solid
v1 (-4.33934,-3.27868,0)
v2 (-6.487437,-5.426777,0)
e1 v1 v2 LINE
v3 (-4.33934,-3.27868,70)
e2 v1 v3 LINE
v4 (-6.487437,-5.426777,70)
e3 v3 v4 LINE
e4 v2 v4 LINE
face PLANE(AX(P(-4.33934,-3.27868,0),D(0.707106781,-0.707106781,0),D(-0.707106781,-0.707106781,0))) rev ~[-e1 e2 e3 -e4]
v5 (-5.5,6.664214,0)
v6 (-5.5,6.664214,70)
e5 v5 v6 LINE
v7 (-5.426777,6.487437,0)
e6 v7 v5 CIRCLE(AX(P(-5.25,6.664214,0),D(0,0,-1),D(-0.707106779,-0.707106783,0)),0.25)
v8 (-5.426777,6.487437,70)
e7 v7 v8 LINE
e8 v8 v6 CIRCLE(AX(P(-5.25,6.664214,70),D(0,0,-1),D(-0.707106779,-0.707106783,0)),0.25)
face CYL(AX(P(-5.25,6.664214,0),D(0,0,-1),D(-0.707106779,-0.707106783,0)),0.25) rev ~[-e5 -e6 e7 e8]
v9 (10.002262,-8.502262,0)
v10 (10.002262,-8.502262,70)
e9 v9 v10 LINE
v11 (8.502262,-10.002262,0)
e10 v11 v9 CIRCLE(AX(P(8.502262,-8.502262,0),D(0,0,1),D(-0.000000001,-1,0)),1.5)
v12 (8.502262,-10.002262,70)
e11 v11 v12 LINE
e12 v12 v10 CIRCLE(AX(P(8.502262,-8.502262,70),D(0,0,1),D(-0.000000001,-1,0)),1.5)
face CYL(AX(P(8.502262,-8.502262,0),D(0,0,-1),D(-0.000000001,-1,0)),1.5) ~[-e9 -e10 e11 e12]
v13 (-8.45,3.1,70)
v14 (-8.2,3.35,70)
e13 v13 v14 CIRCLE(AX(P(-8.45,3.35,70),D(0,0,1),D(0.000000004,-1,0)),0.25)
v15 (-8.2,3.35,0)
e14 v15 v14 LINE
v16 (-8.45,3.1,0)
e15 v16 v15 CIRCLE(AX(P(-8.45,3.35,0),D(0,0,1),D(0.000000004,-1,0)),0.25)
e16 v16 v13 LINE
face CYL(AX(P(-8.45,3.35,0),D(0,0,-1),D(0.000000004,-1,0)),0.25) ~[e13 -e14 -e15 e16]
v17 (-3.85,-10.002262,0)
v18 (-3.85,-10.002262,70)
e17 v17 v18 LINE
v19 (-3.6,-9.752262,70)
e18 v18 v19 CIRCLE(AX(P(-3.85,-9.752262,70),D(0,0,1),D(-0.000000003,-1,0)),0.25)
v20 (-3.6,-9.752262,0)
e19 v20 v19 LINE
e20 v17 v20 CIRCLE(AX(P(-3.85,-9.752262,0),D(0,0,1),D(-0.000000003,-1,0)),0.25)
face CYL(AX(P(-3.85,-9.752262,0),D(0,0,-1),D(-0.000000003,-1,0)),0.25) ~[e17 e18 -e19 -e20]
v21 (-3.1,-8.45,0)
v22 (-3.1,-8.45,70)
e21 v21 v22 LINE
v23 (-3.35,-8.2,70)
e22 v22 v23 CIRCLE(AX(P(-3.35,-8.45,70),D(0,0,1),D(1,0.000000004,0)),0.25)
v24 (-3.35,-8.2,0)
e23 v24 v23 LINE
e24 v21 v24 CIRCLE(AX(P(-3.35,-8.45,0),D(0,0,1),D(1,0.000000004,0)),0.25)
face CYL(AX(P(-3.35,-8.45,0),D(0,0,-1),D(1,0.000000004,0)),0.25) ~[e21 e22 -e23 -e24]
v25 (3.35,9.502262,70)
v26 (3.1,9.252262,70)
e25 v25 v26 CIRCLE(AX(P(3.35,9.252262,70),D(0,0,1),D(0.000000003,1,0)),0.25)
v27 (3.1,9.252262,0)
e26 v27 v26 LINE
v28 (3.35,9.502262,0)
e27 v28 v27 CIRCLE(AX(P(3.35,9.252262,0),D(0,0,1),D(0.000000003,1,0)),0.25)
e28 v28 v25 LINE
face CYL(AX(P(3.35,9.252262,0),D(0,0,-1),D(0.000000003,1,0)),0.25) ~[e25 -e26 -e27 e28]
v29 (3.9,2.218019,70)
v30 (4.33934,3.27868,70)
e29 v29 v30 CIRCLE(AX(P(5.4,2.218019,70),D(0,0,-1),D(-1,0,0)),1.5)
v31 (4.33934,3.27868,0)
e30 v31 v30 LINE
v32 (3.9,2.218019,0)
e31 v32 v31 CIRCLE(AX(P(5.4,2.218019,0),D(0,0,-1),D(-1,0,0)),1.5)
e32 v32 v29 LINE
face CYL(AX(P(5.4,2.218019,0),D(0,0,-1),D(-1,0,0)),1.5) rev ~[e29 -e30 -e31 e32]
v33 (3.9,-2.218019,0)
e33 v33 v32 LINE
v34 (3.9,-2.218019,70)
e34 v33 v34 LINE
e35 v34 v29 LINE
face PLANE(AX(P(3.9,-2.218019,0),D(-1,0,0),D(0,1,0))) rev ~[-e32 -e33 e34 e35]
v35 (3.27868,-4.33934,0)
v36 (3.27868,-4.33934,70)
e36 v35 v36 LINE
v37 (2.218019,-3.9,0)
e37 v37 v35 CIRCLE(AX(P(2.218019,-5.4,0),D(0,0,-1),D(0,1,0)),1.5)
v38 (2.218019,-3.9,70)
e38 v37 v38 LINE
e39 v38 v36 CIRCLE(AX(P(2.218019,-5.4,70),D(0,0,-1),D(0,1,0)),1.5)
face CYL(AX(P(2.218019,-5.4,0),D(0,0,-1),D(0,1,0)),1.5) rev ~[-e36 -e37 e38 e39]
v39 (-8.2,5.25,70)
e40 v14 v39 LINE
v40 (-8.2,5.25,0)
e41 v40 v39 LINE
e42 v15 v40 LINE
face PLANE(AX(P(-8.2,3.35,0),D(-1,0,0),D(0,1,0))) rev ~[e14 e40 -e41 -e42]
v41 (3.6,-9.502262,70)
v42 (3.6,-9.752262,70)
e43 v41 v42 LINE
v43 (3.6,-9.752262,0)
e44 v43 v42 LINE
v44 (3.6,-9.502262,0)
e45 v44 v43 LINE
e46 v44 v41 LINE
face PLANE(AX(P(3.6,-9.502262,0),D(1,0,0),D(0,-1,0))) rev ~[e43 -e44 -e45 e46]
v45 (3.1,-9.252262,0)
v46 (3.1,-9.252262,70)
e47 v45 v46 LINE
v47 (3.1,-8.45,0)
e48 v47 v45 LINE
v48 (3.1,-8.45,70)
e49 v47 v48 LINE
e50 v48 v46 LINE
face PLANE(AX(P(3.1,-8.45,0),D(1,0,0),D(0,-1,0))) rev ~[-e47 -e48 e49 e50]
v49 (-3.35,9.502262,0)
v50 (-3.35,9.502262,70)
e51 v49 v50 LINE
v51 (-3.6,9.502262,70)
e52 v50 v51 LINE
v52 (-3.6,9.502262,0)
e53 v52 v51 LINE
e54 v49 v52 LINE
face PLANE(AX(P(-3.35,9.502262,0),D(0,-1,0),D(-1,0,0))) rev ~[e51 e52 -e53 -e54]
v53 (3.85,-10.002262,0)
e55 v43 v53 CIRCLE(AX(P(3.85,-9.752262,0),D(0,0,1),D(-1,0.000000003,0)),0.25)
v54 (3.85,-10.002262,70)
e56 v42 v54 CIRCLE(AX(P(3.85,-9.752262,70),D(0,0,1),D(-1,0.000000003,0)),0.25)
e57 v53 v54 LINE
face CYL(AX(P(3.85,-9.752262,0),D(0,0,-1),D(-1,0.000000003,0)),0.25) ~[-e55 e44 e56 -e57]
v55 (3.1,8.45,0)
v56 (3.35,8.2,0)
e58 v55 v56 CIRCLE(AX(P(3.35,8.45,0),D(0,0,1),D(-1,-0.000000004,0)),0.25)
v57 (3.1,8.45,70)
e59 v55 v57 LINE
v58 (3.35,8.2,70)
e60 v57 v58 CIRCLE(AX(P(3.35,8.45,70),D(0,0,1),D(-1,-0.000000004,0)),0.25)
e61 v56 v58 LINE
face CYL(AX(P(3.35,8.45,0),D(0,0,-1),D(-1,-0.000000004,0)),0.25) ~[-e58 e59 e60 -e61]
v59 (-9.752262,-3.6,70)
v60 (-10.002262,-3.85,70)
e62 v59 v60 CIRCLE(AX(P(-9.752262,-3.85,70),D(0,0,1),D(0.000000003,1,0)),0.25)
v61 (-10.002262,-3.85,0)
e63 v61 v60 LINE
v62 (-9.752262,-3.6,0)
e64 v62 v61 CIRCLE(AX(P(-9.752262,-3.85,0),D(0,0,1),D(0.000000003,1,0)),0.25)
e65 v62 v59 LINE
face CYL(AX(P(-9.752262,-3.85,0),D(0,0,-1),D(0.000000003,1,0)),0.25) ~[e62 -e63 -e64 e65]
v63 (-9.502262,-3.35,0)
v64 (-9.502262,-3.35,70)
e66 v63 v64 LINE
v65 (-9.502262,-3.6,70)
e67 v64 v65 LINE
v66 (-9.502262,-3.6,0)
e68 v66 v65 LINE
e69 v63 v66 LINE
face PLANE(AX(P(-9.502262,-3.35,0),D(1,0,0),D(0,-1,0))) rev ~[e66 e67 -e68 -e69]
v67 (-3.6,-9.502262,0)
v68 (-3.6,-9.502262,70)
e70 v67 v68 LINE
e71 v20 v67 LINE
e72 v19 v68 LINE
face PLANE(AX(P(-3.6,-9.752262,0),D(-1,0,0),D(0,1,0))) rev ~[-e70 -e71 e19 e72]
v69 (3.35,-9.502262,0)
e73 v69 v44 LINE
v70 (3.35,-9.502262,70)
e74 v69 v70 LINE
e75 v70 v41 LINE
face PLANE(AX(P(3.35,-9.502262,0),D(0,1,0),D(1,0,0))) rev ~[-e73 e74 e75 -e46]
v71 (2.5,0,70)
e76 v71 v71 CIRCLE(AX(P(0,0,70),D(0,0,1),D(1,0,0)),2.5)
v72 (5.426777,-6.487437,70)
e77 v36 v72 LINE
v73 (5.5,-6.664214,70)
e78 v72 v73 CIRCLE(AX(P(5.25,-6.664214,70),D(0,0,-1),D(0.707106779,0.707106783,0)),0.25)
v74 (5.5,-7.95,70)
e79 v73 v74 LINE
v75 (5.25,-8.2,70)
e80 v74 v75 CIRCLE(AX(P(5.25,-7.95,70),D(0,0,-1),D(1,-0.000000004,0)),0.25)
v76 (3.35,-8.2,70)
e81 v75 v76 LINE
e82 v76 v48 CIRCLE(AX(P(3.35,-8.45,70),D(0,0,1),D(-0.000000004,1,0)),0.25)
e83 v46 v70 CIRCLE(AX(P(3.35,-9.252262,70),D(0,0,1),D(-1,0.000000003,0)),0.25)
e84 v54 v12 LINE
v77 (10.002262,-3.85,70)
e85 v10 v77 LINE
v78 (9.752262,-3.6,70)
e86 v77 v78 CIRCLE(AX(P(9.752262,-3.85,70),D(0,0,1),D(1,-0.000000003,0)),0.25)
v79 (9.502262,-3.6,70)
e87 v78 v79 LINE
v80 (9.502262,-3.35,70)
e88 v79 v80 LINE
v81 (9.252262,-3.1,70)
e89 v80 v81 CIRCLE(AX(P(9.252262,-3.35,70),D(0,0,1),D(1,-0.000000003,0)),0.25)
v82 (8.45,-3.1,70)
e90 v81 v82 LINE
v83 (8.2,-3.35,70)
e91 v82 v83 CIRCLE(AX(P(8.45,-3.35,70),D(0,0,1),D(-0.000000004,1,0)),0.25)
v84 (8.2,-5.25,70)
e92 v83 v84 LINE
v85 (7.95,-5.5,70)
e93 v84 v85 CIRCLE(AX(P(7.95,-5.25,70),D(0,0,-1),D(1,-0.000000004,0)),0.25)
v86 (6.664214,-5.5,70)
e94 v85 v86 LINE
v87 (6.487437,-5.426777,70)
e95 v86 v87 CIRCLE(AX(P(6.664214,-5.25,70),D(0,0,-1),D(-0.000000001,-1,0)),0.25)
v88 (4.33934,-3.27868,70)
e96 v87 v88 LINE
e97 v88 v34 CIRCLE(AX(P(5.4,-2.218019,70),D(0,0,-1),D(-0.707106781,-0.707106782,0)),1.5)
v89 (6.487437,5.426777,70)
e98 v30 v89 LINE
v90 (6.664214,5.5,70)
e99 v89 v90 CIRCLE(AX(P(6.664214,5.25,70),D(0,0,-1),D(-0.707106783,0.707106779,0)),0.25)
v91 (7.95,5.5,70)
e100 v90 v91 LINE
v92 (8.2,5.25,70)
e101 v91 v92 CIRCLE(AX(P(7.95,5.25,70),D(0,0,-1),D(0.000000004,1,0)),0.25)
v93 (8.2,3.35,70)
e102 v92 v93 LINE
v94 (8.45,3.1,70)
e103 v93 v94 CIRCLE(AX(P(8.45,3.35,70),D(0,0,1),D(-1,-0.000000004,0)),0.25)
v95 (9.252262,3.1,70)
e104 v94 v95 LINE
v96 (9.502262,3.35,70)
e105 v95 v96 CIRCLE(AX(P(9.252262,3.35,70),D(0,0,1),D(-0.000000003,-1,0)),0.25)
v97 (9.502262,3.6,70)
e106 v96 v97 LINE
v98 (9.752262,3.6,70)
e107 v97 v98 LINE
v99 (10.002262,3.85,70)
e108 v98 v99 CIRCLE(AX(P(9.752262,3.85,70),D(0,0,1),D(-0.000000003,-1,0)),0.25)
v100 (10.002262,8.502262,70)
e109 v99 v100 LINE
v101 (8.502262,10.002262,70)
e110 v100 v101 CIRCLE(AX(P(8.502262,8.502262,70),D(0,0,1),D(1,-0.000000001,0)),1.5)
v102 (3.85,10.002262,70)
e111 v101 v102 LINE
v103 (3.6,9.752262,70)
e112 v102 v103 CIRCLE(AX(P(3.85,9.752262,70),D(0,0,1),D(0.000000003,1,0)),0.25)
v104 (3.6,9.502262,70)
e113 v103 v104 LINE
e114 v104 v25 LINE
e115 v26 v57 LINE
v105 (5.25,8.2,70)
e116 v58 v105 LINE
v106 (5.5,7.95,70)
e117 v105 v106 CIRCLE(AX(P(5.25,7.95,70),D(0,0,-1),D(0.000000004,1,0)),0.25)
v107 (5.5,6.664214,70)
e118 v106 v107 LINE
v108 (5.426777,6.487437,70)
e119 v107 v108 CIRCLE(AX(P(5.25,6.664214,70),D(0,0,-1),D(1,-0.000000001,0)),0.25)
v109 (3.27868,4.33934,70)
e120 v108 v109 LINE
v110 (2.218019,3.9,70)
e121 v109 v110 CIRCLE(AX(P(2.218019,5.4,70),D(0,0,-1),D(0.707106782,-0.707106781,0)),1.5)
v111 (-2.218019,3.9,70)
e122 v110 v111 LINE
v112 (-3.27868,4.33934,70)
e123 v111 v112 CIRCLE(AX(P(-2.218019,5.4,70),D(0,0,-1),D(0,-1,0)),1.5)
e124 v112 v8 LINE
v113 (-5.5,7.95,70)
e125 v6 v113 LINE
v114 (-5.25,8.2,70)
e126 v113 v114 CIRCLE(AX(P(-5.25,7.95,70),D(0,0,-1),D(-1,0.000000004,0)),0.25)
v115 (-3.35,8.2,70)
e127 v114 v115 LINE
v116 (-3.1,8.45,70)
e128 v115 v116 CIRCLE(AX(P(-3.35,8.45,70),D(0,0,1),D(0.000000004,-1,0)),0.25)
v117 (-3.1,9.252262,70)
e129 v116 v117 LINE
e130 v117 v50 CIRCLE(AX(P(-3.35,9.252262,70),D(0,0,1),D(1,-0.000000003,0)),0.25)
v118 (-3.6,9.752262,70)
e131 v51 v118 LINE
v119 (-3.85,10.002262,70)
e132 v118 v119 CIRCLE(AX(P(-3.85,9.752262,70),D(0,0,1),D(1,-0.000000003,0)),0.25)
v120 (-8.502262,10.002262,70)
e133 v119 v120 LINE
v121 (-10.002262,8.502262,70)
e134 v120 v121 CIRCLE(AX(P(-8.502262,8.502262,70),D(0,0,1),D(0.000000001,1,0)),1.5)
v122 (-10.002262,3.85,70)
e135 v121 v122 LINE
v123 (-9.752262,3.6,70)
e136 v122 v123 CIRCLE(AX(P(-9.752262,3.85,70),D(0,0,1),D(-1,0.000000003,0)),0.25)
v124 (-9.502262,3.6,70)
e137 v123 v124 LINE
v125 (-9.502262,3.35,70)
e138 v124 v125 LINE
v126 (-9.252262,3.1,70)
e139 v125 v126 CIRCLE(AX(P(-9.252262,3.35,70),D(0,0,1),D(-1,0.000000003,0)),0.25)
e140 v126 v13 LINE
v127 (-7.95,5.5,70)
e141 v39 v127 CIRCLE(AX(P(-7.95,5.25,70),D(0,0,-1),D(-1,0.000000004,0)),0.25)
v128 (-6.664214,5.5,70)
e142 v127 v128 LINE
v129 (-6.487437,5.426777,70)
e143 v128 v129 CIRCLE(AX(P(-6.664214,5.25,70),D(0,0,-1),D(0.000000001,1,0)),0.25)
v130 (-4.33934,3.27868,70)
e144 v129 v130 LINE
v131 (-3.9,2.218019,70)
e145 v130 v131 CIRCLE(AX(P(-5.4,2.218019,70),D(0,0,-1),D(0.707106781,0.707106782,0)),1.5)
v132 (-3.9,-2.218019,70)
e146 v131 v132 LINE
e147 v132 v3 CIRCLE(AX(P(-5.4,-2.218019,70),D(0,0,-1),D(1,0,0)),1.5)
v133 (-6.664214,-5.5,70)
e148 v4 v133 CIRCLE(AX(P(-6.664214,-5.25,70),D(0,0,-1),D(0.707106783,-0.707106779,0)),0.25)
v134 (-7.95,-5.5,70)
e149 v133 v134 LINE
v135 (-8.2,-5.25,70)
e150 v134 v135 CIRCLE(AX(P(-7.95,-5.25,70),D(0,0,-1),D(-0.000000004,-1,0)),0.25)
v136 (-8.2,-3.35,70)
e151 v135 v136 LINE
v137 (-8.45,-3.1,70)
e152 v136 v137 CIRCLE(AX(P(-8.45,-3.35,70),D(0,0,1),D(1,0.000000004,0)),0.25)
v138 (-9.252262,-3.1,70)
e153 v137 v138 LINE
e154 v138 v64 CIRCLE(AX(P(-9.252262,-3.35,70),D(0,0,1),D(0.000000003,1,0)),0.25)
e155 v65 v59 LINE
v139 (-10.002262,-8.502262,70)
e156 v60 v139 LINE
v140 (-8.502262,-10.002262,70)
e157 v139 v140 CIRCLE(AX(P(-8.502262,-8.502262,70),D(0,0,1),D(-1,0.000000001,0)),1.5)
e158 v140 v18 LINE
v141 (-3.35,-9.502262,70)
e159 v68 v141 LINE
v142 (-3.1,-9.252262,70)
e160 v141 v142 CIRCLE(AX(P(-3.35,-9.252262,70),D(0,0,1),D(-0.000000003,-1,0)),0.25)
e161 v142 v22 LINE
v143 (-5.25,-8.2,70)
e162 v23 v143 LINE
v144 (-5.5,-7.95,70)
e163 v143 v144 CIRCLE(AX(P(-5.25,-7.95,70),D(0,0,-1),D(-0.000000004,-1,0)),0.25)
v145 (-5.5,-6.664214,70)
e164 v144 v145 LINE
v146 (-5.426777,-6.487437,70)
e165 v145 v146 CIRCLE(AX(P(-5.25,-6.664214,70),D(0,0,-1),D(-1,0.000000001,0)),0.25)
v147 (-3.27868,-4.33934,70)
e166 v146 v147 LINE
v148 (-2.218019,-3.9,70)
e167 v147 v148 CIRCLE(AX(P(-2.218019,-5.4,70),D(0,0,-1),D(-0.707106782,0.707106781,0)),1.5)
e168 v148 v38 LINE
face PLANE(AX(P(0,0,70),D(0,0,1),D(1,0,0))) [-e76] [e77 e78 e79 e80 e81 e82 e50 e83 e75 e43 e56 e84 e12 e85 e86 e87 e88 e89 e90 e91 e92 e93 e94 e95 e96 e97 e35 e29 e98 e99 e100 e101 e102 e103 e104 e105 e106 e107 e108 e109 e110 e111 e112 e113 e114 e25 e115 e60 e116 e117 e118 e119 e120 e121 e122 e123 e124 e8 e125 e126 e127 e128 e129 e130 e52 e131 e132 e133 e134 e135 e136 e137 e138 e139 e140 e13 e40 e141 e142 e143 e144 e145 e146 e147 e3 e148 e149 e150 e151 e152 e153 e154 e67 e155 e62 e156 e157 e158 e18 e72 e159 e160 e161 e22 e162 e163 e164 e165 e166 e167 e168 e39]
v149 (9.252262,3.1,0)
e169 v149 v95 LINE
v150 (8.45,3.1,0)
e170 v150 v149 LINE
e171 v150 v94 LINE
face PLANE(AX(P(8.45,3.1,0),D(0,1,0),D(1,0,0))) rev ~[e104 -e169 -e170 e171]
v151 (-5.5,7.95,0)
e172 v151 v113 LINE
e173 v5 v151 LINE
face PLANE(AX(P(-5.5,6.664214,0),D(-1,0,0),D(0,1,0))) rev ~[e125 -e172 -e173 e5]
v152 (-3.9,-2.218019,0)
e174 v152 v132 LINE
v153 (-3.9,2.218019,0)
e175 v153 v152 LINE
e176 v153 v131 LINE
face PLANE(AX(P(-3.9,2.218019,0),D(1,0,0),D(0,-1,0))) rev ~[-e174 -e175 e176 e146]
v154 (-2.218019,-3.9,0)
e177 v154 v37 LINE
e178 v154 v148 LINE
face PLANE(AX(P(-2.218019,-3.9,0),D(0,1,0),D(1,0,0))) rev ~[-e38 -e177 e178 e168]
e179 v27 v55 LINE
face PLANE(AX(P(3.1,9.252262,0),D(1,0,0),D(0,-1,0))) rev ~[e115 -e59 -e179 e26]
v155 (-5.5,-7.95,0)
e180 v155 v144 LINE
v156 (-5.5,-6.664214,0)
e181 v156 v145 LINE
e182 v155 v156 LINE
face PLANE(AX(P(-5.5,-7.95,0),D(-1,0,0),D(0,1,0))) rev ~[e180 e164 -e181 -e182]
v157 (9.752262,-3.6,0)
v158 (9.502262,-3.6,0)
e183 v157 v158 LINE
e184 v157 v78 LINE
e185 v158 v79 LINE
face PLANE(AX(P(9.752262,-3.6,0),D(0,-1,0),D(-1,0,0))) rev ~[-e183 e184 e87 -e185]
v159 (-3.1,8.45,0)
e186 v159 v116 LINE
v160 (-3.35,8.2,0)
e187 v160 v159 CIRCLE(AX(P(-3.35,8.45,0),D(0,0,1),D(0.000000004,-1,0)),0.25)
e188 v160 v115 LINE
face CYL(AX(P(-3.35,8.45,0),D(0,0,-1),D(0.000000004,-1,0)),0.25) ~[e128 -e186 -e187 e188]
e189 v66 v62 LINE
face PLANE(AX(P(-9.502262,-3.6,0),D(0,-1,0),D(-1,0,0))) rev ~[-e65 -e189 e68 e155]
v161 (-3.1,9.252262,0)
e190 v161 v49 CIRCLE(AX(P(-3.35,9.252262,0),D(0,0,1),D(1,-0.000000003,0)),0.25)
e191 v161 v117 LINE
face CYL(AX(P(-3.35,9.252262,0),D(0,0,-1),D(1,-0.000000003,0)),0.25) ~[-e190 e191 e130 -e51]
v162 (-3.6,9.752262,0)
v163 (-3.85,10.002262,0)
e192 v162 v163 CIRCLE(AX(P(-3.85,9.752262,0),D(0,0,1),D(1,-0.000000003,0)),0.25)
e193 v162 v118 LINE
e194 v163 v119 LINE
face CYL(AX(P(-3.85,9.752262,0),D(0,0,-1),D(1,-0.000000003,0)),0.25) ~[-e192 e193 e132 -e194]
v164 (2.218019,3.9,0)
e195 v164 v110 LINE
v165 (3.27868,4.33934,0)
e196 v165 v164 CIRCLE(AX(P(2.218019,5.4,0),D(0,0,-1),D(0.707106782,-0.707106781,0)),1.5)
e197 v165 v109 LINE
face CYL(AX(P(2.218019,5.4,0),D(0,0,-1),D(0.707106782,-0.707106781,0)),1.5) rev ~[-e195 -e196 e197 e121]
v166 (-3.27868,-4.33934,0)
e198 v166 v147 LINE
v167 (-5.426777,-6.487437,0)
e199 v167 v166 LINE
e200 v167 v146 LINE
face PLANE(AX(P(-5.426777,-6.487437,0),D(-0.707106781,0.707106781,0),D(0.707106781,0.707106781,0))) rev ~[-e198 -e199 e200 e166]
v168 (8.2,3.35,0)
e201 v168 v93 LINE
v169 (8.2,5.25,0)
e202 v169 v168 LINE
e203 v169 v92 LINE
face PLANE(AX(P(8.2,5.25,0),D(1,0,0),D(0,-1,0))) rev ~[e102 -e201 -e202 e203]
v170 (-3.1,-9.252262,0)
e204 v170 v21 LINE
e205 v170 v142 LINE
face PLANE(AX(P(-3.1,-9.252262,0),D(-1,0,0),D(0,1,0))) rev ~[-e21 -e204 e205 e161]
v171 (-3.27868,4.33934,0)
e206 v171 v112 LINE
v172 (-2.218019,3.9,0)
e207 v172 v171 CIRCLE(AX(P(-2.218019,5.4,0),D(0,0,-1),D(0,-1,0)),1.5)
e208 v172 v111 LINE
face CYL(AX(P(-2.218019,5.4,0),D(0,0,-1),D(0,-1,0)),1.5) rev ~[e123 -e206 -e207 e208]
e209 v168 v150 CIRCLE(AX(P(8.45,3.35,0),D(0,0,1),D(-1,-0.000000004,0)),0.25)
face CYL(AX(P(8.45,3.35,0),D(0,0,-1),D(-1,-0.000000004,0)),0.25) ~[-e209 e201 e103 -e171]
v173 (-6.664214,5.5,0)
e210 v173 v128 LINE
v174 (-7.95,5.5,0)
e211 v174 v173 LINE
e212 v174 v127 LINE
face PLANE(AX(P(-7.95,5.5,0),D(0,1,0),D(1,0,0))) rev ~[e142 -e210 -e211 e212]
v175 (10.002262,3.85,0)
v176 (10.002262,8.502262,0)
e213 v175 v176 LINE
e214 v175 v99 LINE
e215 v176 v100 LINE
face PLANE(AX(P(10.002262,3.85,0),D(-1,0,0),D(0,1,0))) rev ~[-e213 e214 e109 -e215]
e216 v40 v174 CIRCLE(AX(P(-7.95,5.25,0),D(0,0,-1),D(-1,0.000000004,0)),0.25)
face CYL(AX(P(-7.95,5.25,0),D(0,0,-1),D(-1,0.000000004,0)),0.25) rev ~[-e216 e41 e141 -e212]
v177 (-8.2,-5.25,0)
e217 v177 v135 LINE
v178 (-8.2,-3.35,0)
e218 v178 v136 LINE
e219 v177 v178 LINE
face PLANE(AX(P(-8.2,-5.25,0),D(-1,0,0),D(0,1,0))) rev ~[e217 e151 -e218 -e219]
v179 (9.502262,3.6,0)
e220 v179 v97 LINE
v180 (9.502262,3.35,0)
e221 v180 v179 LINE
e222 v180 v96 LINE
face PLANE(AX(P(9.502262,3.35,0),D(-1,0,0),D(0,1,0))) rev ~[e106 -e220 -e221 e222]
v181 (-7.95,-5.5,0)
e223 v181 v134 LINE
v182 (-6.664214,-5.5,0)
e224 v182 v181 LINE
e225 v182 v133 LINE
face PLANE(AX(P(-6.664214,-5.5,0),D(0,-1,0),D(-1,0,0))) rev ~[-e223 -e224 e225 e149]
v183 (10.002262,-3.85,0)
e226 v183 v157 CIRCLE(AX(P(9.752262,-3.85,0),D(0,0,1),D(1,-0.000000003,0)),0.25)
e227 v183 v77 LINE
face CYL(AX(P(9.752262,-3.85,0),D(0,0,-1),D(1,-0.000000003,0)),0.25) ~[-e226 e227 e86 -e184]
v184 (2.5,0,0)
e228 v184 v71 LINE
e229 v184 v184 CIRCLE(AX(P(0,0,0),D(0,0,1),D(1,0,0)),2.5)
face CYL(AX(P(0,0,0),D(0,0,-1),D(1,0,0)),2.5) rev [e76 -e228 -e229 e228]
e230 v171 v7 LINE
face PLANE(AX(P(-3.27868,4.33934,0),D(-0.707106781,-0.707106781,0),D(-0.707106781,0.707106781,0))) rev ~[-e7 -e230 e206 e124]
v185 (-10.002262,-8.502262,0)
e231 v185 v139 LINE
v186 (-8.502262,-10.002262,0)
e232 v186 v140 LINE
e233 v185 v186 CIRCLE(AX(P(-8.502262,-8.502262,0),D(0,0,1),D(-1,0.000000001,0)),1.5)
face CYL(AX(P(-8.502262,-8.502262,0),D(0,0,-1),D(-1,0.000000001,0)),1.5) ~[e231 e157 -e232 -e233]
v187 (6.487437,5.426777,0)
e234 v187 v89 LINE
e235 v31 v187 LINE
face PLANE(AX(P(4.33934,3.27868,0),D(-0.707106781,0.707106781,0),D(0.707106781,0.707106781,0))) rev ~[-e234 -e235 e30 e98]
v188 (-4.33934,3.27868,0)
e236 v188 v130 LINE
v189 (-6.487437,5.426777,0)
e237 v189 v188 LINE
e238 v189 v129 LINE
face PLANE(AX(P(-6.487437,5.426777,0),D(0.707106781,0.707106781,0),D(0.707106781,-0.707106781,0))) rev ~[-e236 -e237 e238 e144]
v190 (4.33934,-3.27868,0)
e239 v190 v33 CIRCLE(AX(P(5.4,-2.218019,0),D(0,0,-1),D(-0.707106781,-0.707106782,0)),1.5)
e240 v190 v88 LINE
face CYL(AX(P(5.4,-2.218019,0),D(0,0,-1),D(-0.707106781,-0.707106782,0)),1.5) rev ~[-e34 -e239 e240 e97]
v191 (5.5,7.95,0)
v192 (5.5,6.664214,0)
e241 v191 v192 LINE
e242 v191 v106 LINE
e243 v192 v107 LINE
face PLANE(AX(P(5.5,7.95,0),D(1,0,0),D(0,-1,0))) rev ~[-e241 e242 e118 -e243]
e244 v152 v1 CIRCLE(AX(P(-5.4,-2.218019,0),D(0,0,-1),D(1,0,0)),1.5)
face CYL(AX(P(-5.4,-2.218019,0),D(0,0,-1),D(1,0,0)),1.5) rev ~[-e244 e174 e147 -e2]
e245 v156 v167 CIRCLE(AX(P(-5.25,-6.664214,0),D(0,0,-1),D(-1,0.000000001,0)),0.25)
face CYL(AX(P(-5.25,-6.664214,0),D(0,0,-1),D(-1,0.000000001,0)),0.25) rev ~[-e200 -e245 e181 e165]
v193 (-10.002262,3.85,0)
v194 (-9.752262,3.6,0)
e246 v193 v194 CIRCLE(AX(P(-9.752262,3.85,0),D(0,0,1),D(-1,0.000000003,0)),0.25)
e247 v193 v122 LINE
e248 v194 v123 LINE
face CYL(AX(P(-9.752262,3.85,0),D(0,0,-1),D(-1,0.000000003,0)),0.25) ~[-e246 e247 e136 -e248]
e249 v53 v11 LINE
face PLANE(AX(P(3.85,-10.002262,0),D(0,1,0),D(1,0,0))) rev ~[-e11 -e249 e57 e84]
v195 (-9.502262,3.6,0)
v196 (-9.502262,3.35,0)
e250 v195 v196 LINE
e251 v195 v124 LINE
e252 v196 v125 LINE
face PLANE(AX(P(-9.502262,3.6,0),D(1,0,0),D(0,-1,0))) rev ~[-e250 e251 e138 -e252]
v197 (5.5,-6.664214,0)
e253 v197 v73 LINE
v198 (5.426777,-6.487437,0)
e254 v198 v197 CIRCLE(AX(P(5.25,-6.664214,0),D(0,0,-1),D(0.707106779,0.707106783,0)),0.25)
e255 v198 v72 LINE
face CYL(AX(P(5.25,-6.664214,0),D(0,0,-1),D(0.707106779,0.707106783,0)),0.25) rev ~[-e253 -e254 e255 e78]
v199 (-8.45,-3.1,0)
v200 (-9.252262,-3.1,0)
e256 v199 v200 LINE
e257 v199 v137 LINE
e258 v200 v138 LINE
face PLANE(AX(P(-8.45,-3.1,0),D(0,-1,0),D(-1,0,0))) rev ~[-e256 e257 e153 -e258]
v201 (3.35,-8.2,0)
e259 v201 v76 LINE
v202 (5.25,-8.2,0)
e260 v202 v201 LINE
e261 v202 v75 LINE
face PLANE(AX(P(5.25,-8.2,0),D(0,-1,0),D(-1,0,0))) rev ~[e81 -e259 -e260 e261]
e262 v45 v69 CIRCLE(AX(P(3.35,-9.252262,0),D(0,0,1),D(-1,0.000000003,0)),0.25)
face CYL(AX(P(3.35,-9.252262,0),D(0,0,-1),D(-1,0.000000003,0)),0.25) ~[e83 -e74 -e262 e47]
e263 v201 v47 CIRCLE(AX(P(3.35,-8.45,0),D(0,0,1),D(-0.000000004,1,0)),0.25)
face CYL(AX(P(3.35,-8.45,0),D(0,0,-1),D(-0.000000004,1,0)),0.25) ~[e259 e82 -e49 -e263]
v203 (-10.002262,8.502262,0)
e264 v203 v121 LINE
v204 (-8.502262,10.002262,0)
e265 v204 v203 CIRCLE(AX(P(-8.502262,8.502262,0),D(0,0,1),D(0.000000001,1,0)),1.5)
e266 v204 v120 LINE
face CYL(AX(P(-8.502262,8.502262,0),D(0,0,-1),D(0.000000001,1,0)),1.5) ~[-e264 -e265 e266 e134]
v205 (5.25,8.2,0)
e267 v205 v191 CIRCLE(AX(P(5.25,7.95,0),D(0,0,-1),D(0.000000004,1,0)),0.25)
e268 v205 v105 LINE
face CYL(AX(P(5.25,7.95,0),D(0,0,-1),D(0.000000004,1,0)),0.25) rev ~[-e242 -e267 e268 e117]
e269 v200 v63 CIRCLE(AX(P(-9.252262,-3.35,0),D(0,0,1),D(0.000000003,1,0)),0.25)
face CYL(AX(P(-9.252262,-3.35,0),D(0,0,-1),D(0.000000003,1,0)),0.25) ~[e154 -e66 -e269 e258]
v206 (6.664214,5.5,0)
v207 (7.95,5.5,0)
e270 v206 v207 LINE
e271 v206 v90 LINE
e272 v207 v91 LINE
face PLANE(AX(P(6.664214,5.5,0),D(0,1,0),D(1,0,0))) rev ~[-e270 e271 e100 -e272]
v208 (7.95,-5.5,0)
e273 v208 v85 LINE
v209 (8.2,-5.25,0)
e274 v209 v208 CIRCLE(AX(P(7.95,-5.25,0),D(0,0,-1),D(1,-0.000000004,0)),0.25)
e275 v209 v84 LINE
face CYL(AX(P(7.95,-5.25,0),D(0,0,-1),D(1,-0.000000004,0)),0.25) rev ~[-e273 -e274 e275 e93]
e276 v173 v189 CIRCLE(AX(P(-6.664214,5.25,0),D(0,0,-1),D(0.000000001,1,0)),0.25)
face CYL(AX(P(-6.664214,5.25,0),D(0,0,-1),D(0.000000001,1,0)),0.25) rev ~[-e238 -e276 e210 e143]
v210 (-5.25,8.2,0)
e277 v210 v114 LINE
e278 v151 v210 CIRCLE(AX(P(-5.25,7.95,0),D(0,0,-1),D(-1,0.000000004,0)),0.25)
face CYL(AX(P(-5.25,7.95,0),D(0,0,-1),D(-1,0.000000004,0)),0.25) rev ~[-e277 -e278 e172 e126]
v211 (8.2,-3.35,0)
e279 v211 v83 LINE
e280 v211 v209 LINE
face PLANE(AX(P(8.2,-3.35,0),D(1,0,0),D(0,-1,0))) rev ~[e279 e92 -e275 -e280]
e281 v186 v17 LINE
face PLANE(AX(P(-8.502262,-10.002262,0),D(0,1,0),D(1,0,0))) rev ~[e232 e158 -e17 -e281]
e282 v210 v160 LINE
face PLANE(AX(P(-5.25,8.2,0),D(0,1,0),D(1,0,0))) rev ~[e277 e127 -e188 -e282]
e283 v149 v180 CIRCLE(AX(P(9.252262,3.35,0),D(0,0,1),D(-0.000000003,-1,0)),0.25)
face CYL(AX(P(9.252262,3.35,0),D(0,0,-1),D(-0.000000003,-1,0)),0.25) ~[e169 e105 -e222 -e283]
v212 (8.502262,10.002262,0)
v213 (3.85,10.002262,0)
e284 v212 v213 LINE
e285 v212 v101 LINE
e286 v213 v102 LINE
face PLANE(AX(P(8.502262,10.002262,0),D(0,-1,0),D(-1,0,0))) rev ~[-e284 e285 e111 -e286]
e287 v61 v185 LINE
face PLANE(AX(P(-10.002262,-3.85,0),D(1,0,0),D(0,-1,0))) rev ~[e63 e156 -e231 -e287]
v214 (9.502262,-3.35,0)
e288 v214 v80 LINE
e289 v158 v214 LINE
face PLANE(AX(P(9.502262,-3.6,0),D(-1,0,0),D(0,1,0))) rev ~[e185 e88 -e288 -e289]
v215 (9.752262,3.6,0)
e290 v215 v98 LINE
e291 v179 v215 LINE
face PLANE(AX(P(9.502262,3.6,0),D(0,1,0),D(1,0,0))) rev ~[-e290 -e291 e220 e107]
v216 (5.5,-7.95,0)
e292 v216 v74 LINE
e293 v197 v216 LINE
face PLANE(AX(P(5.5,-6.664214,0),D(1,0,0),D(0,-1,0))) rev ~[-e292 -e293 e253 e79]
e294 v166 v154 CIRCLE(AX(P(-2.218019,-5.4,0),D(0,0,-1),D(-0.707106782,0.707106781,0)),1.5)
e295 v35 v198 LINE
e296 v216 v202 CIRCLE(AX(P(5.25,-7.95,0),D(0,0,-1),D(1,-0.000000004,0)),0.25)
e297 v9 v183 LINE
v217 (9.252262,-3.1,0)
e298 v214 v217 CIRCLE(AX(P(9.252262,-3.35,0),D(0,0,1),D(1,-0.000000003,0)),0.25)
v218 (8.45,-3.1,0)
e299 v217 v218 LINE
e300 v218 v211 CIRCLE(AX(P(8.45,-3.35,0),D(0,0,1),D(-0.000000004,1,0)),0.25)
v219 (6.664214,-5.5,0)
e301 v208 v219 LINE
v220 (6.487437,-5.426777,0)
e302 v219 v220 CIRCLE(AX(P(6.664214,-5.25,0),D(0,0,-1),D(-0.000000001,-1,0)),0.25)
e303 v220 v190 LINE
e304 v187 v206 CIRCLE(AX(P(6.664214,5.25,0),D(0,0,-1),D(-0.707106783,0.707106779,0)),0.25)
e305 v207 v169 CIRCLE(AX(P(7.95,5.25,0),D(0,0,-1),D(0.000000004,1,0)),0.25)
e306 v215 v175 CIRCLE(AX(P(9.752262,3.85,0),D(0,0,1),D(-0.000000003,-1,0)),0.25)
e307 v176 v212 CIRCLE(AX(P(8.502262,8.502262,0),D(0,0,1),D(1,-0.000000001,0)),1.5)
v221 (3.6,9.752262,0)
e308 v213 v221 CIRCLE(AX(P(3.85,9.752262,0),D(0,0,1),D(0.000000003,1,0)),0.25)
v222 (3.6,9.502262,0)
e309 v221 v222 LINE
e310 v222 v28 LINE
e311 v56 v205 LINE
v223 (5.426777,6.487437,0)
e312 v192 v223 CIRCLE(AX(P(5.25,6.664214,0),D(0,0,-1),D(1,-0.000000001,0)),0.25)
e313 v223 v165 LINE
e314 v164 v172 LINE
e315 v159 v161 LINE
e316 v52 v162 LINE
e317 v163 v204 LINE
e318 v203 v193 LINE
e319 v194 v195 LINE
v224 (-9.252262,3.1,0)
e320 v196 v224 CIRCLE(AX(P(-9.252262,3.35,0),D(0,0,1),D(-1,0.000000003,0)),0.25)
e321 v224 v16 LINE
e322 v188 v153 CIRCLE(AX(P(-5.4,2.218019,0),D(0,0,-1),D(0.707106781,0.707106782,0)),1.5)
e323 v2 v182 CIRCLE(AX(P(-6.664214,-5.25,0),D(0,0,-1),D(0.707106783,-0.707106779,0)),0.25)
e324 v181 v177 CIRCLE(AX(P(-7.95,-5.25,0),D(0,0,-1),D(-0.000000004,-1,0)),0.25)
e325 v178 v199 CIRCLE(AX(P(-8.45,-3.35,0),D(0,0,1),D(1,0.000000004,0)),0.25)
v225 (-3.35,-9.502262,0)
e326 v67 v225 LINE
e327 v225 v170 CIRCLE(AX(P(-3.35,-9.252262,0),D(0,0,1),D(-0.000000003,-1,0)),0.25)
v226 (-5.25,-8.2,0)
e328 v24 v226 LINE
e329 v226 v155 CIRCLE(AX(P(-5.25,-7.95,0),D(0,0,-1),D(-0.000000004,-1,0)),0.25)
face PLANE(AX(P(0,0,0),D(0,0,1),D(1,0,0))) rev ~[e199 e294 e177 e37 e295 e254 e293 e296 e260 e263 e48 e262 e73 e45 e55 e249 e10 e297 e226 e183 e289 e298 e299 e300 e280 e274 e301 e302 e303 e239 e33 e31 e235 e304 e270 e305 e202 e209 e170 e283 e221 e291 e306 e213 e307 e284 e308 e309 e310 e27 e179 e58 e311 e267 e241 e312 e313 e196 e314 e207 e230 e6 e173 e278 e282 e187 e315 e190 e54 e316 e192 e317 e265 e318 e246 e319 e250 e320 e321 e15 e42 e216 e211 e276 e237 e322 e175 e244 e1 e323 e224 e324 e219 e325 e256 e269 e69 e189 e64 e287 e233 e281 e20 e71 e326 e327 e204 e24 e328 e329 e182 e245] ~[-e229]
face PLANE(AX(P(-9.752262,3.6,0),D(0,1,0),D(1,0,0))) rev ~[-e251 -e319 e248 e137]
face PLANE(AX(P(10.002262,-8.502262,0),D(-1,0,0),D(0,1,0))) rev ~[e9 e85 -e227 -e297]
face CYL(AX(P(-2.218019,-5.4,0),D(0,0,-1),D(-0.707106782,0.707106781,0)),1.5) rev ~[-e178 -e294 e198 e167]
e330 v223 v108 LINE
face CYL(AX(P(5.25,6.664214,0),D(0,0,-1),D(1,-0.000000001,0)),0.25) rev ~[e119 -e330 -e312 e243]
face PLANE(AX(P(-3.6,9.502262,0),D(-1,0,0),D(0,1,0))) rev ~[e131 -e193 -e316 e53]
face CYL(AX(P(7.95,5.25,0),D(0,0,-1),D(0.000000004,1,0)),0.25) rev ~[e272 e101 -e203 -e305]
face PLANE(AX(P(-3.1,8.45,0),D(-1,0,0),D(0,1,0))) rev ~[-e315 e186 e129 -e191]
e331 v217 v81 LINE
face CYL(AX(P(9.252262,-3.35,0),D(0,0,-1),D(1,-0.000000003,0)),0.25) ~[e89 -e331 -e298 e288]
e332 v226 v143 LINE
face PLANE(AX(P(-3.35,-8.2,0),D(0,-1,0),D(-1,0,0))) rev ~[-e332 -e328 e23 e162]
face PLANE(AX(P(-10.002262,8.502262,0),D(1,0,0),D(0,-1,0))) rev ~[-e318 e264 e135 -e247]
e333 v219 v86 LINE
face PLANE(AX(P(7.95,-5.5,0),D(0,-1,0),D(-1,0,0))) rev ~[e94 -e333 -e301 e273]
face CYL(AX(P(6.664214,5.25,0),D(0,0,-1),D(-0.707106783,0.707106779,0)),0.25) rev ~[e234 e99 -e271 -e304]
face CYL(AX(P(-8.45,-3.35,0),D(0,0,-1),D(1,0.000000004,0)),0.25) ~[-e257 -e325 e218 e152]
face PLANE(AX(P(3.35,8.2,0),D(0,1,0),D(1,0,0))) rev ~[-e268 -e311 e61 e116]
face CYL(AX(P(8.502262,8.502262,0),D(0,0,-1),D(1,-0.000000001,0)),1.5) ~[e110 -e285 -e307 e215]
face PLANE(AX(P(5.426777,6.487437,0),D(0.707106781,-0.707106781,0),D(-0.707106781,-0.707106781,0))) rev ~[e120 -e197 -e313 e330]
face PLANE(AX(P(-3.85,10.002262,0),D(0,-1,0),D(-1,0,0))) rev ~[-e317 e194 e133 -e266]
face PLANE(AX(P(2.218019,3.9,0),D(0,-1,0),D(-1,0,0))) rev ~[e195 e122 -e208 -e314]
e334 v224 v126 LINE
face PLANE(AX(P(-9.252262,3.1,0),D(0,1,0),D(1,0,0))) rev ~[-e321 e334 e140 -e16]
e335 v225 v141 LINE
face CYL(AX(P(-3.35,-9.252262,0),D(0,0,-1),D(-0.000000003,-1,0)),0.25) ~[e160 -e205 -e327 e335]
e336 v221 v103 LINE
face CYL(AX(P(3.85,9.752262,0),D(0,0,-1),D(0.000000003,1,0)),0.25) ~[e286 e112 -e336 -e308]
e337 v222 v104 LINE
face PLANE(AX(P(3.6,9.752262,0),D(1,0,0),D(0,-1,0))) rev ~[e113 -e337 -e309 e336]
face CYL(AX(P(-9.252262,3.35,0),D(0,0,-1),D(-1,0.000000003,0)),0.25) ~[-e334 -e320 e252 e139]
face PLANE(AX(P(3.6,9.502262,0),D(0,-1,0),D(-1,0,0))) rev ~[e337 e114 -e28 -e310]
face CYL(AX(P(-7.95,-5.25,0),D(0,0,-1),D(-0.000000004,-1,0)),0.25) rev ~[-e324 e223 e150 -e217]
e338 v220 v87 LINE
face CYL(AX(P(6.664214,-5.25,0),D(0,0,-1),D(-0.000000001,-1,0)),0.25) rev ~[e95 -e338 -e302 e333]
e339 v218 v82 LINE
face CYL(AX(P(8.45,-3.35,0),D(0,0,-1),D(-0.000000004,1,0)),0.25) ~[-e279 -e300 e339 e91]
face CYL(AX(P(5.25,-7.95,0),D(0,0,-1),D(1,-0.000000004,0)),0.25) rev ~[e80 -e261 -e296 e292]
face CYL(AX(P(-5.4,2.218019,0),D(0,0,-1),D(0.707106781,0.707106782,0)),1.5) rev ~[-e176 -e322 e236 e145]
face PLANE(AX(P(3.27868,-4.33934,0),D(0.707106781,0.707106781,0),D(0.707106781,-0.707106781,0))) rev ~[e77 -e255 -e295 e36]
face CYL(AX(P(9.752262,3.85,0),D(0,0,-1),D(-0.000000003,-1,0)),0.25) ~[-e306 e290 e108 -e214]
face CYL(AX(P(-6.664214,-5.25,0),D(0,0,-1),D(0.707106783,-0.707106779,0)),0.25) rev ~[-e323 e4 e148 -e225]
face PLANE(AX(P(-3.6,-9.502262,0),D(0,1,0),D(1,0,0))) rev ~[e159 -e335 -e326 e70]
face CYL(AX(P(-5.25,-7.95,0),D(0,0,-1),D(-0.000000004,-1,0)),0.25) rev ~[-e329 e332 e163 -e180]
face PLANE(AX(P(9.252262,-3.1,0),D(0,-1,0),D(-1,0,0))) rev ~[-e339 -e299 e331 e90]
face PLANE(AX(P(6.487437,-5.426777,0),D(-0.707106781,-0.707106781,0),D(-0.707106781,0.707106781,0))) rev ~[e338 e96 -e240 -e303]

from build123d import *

# Parameters (mm, degrees)
SKETCH_1_R      = 2.5
EXTRUDE_1_DEPTH = 70


with BuildPart() as part:
    # 草图1 → 凸台-拉伸1 (new body)
    with BuildSketch(Plane.XY):
        with BuildLine():
            Line((-8.502261885, -10.002261885), (-3.85, -10.002261885))
            ThreePointArc((-3.85, -10.002261885), (-3.673223305, -9.929038581), (-3.6, -9.752261885))
            Line((-3.6, -9.752261885), (-3.6, -9.502261885))
            Line((-3.6, -9.502261885), (-3.35, -9.502261885))
            ThreePointArc((-3.35, -9.502261885), (-3.173223305, -9.429038581), (-3.1, -9.252261885))
            Line((-3.1, -9.252261885), (-3.1, -8.45))
            ThreePointArc((-3.1, -8.45), (-3.173223305, -8.273223305), (-3.35, -8.2))
            Line((-3.35, -8.2), (-5.25, -8.2))
            ThreePointArc((-5.25, -8.2), (-5.426776695, -8.126776695), (-5.5, -7.95))
            Line((-5.5, -7.95), (-5.5, -6.664213562))
            ThreePointArc((-5.5, -6.664213562), (-5.480969883, -6.568542704), (-5.426776695, -6.487436867))
            Line((-5.426776695, -6.487436867), (-3.278679656, -4.339339828))
            ThreePointArc((-3.278679656, -4.339339828), (-2.792044633, -4.014180701), (-2.218019485, -3.9))
            Line((-2.218019485, -3.9), (2.218019485, -3.9))
            ThreePointArc((2.218019485, -3.9), (2.792044633, -4.014180701), (3.278679656, -4.339339828))
            Line((3.278679656, -4.339339828), (5.426776695, -6.487436867))
            ThreePointArc((5.426776695, -6.487436867), (5.480969883, -6.568542704), (5.5, -6.664213562))
            Line((5.5, -6.664213562), (5.5, -7.95))
            ThreePointArc((5.5, -7.95), (5.426776695, -8.126776695), (5.25, -8.2))
            Line((5.25, -8.2), (3.35, -8.2))
            ThreePointArc((3.35, -8.2), (3.173223305, -8.273223305), (3.1, -8.45))
            Line((3.1, -8.45), (3.1, -9.252261885))
            ThreePointArc((3.1, -9.252261885), (3.173223305, -9.429038581), (3.35, -9.502261885))
            Line((3.35, -9.502261885), (3.6, -9.502261885))
            Line((3.6, -9.502261885), (3.6, -9.752261885))
            ThreePointArc((3.6, -9.752261885), (3.673223305, -9.929038581), (3.85, -10.002261885))
            Line((3.85, -10.002261885), (8.502261885, -10.002261885))
            ThreePointArc((8.502261885, -10.002261885), (9.562922057, -9.562922057), (10.002261885, -8.502261885))
            Line((10.002261885, -8.502261885), (10.002261885, -3.85))
            ThreePointArc((10.002261885, -3.85), (9.929038581, -3.673223305), (9.752261885, -3.6))
            Line((9.752261885, -3.6), (9.502261885, -3.6))
            Line((9.502261885, -3.6), (9.502261885, -3.35))
            ThreePointArc((9.502261885, -3.35), (9.429038581, -3.173223305), (9.252261885, -3.1))
            Line((9.252261885, -3.1), (8.45, -3.1))
            ThreePointArc((8.45, -3.1), (8.273223305, -3.173223305), (8.2, -3.35))
            Line((8.2, -3.35), (8.2, -5.25))
            ThreePointArc((8.2, -5.25), (8.126776695, -5.426776695), (7.95, -5.5))
            Line((7.95, -5.5), (6.664213562, -5.5))
            ThreePointArc((6.664213562, -5.5), (6.568542704, -5.480969883), (6.487436867, -5.426776695))
            Line((6.487436867, -5.426776695), (4.339339828, -3.278679656))
            ThreePointArc((4.339339828, -3.278679656), (4.014180701, -2.792044633), (3.9, -2.218019485))
            Line((3.9, -2.218019485), (3.9, 2.218019485))
            ThreePointArc((3.9, 2.218019485), (4.014180701, 2.792044633), (4.339339828, 3.278679656))
            Line((4.339339828, 3.278679656), (6.487436867, 5.426776695))
            ThreePointArc((6.487436867, 5.426776695), (6.568542704, 5.480969883), (6.664213562, 5.5))
            Line((6.664213562, 5.5), (7.95, 5.5))
            ThreePointArc((7.95, 5.5), (8.126776695, 5.426776695), (8.2, 5.25))
            Line((8.2, 5.25), (8.2, 3.35))
            ThreePointArc((8.2, 3.35), (8.273223305, 3.173223305), (8.45, 3.1))
            Line((8.45, 3.1), (9.252261885, 3.1))
            ThreePointArc((9.252261885, 3.1), (9.429038581, 3.173223305), (9.502261885, 3.35))
            Line((9.502261885, 3.35), (9.502261885, 3.6))
            Line((9.502261885, 3.6), (9.752261885, 3.6))
            ThreePointArc((9.752261885, 3.6), (9.929038581, 3.673223305), (10.002261885, 3.85))
            Line((10.002261885, 3.85), (10.002261885, 8.502261885))
            ThreePointArc((10.002261885, 8.502261885), (9.562922057, 9.562922057), (8.502261885, 10.002261885))
            Line((8.502261885, 10.002261885), (3.85, 10.002261885))
            ThreePointArc((3.85, 10.002261885), (3.673223305, 9.929038581), (3.6, 9.752261885))
            Line((3.6, 9.752261885), (3.6, 9.502261885))
            Line((3.6, 9.502261885), (3.35, 9.502261885))
            ThreePointArc((3.35, 9.502261885), (3.173223305, 9.429038581), (3.1, 9.252261885))
            Line((3.1, 9.252261885), (3.1, 8.45))
            ThreePointArc((3.1, 8.45), (3.173223305, 8.273223305), (3.35, 8.2))
            Line((3.35, 8.2), (5.25, 8.2))
            ThreePointArc((5.25, 8.2), (5.426776695, 8.126776695), (5.5, 7.95))
            Line((5.5, 7.95), (5.5, 6.664213562))
            ThreePointArc((5.5, 6.664213562), (5.480969883, 6.568542704), (5.426776695, 6.487436867))
            Line((5.426776695, 6.487436867), (3.278679656, 4.339339828))
            ThreePointArc((3.278679656, 4.339339828), (2.792044633, 4.014180701), (2.218019485, 3.9))
            Line((2.218019485, 3.9), (-2.218019485, 3.9))
            ThreePointArc((-2.218019485, 3.9), (-2.792044633, 4.014180701), (-3.278679656, 4.339339828))
            Line((-3.278679656, 4.339339828), (-5.426776695, 6.487436867))
            ThreePointArc((-5.426776695, 6.487436867), (-5.480969883, 6.568542704), (-5.5, 6.664213562))
            Line((-5.5, 6.664213562), (-5.5, 7.95))
            ThreePointArc((-5.5, 7.95), (-5.426776695, 8.126776695), (-5.25, 8.2))
            Line((-5.25, 8.2), (-3.35, 8.2))
            ThreePointArc((-3.35, 8.2), (-3.173223305, 8.273223305), (-3.1, 8.45))
            Line((-3.1, 8.45), (-3.1, 9.252261885))
            ThreePointArc((-3.1, 9.252261885), (-3.173223305, 9.429038581), (-3.35, 9.502261885))
            Line((-3.35, 9.502261885), (-3.6, 9.502261885))
            Line((-3.6, 9.502261885), (-3.6, 9.752261885))
            ThreePointArc((-3.6, 9.752261885), (-3.673223305, 9.929038581), (-3.85, 10.002261885))
            Line((-3.85, 10.002261885), (-8.502261885, 10.002261885))
            ThreePointArc((-8.502261885, 10.002261885), (-9.562922057, 9.562922057), (-10.002261885, 8.502261885))
            Line((-10.002261885, 8.502261885), (-10.002261885, 3.85))
            ThreePointArc((-10.002261885, 3.85), (-9.929038581, 3.673223305), (-9.752261885, 3.6))
            Line((-9.752261885, 3.6), (-9.502261885, 3.6))
            Line((-9.502261885, 3.6), (-9.502261885, 3.35))
            ThreePointArc((-9.502261885, 3.35), (-9.429038581, 3.173223305), (-9.252261885, 3.1))
            Line((-9.252261885, 3.1), (-8.45, 3.1))
            ThreePointArc((-8.45, 3.1), (-8.273223305, 3.173223305), (-8.2, 3.35))
            Line((-8.2, 3.35), (-8.2, 5.25))
            ThreePointArc((-8.2, 5.25), (-8.126776695, 5.426776695), (-7.95, 5.5))
            Line((-7.95, 5.5), (-6.664213562, 5.5))
            ThreePointArc((-6.664213562, 5.5), (-6.568542704, 5.480969883), (-6.487436867, 5.426776695))
            Line((-6.487436867, 5.426776695), (-4.339339828, 3.278679656))
            ThreePointArc((-4.339339828, 3.278679656), (-4.014180701, 2.792044633), (-3.9, 2.218019485))
            Line((-3.9, 2.218019485), (-3.9, -2.218019485))
            ThreePointArc((-3.9, -2.218019485), (-4.014180701, -2.792044633), (-4.339339828, -3.278679656))
            Line((-4.339339828, -3.278679656), (-6.487436867, -5.426776695))
            ThreePointArc((-6.487436867, -5.426776695), (-6.568542704, -5.480969883), (-6.664213562, -5.5))
            Line((-6.664213562, -5.5), (-7.95, -5.5))
            ThreePointArc((-7.95, -5.5), (-8.126776695, -5.426776695), (-8.2, -5.25))
            Line((-8.2, -5.25), (-8.2, -3.35))
            ThreePointArc((-8.2, -3.35), (-8.273223305, -3.173223305), (-8.45, -3.1))
            Line((-8.45, -3.1), (-9.252261885, -3.1))
            ThreePointArc((-9.252261885, -3.1), (-9.429038581, -3.173223305), (-9.502261885, -3.35))
            Line((-9.502261885, -3.35), (-9.502261885, -3.6))
            Line((-9.502261885, -3.6), (-9.752261885, -3.6))
            ThreePointArc((-9.752261885, -3.6), (-9.929038581, -3.673223305), (-10.002261885, -3.85))
            Line((-10.002261885, -3.85), (-10.002261885, -8.502261885))
            ThreePointArc((-10.002261885, -8.502261885), (-9.562922057, -9.562922057), (-8.502261885, -10.002261885))
        make_face()
        Circle(SKETCH_1_R, mode=Mode.SUBTRACT)
    extrude(amount=EXTRUDE_1_DEPTH)


solid = part.part
